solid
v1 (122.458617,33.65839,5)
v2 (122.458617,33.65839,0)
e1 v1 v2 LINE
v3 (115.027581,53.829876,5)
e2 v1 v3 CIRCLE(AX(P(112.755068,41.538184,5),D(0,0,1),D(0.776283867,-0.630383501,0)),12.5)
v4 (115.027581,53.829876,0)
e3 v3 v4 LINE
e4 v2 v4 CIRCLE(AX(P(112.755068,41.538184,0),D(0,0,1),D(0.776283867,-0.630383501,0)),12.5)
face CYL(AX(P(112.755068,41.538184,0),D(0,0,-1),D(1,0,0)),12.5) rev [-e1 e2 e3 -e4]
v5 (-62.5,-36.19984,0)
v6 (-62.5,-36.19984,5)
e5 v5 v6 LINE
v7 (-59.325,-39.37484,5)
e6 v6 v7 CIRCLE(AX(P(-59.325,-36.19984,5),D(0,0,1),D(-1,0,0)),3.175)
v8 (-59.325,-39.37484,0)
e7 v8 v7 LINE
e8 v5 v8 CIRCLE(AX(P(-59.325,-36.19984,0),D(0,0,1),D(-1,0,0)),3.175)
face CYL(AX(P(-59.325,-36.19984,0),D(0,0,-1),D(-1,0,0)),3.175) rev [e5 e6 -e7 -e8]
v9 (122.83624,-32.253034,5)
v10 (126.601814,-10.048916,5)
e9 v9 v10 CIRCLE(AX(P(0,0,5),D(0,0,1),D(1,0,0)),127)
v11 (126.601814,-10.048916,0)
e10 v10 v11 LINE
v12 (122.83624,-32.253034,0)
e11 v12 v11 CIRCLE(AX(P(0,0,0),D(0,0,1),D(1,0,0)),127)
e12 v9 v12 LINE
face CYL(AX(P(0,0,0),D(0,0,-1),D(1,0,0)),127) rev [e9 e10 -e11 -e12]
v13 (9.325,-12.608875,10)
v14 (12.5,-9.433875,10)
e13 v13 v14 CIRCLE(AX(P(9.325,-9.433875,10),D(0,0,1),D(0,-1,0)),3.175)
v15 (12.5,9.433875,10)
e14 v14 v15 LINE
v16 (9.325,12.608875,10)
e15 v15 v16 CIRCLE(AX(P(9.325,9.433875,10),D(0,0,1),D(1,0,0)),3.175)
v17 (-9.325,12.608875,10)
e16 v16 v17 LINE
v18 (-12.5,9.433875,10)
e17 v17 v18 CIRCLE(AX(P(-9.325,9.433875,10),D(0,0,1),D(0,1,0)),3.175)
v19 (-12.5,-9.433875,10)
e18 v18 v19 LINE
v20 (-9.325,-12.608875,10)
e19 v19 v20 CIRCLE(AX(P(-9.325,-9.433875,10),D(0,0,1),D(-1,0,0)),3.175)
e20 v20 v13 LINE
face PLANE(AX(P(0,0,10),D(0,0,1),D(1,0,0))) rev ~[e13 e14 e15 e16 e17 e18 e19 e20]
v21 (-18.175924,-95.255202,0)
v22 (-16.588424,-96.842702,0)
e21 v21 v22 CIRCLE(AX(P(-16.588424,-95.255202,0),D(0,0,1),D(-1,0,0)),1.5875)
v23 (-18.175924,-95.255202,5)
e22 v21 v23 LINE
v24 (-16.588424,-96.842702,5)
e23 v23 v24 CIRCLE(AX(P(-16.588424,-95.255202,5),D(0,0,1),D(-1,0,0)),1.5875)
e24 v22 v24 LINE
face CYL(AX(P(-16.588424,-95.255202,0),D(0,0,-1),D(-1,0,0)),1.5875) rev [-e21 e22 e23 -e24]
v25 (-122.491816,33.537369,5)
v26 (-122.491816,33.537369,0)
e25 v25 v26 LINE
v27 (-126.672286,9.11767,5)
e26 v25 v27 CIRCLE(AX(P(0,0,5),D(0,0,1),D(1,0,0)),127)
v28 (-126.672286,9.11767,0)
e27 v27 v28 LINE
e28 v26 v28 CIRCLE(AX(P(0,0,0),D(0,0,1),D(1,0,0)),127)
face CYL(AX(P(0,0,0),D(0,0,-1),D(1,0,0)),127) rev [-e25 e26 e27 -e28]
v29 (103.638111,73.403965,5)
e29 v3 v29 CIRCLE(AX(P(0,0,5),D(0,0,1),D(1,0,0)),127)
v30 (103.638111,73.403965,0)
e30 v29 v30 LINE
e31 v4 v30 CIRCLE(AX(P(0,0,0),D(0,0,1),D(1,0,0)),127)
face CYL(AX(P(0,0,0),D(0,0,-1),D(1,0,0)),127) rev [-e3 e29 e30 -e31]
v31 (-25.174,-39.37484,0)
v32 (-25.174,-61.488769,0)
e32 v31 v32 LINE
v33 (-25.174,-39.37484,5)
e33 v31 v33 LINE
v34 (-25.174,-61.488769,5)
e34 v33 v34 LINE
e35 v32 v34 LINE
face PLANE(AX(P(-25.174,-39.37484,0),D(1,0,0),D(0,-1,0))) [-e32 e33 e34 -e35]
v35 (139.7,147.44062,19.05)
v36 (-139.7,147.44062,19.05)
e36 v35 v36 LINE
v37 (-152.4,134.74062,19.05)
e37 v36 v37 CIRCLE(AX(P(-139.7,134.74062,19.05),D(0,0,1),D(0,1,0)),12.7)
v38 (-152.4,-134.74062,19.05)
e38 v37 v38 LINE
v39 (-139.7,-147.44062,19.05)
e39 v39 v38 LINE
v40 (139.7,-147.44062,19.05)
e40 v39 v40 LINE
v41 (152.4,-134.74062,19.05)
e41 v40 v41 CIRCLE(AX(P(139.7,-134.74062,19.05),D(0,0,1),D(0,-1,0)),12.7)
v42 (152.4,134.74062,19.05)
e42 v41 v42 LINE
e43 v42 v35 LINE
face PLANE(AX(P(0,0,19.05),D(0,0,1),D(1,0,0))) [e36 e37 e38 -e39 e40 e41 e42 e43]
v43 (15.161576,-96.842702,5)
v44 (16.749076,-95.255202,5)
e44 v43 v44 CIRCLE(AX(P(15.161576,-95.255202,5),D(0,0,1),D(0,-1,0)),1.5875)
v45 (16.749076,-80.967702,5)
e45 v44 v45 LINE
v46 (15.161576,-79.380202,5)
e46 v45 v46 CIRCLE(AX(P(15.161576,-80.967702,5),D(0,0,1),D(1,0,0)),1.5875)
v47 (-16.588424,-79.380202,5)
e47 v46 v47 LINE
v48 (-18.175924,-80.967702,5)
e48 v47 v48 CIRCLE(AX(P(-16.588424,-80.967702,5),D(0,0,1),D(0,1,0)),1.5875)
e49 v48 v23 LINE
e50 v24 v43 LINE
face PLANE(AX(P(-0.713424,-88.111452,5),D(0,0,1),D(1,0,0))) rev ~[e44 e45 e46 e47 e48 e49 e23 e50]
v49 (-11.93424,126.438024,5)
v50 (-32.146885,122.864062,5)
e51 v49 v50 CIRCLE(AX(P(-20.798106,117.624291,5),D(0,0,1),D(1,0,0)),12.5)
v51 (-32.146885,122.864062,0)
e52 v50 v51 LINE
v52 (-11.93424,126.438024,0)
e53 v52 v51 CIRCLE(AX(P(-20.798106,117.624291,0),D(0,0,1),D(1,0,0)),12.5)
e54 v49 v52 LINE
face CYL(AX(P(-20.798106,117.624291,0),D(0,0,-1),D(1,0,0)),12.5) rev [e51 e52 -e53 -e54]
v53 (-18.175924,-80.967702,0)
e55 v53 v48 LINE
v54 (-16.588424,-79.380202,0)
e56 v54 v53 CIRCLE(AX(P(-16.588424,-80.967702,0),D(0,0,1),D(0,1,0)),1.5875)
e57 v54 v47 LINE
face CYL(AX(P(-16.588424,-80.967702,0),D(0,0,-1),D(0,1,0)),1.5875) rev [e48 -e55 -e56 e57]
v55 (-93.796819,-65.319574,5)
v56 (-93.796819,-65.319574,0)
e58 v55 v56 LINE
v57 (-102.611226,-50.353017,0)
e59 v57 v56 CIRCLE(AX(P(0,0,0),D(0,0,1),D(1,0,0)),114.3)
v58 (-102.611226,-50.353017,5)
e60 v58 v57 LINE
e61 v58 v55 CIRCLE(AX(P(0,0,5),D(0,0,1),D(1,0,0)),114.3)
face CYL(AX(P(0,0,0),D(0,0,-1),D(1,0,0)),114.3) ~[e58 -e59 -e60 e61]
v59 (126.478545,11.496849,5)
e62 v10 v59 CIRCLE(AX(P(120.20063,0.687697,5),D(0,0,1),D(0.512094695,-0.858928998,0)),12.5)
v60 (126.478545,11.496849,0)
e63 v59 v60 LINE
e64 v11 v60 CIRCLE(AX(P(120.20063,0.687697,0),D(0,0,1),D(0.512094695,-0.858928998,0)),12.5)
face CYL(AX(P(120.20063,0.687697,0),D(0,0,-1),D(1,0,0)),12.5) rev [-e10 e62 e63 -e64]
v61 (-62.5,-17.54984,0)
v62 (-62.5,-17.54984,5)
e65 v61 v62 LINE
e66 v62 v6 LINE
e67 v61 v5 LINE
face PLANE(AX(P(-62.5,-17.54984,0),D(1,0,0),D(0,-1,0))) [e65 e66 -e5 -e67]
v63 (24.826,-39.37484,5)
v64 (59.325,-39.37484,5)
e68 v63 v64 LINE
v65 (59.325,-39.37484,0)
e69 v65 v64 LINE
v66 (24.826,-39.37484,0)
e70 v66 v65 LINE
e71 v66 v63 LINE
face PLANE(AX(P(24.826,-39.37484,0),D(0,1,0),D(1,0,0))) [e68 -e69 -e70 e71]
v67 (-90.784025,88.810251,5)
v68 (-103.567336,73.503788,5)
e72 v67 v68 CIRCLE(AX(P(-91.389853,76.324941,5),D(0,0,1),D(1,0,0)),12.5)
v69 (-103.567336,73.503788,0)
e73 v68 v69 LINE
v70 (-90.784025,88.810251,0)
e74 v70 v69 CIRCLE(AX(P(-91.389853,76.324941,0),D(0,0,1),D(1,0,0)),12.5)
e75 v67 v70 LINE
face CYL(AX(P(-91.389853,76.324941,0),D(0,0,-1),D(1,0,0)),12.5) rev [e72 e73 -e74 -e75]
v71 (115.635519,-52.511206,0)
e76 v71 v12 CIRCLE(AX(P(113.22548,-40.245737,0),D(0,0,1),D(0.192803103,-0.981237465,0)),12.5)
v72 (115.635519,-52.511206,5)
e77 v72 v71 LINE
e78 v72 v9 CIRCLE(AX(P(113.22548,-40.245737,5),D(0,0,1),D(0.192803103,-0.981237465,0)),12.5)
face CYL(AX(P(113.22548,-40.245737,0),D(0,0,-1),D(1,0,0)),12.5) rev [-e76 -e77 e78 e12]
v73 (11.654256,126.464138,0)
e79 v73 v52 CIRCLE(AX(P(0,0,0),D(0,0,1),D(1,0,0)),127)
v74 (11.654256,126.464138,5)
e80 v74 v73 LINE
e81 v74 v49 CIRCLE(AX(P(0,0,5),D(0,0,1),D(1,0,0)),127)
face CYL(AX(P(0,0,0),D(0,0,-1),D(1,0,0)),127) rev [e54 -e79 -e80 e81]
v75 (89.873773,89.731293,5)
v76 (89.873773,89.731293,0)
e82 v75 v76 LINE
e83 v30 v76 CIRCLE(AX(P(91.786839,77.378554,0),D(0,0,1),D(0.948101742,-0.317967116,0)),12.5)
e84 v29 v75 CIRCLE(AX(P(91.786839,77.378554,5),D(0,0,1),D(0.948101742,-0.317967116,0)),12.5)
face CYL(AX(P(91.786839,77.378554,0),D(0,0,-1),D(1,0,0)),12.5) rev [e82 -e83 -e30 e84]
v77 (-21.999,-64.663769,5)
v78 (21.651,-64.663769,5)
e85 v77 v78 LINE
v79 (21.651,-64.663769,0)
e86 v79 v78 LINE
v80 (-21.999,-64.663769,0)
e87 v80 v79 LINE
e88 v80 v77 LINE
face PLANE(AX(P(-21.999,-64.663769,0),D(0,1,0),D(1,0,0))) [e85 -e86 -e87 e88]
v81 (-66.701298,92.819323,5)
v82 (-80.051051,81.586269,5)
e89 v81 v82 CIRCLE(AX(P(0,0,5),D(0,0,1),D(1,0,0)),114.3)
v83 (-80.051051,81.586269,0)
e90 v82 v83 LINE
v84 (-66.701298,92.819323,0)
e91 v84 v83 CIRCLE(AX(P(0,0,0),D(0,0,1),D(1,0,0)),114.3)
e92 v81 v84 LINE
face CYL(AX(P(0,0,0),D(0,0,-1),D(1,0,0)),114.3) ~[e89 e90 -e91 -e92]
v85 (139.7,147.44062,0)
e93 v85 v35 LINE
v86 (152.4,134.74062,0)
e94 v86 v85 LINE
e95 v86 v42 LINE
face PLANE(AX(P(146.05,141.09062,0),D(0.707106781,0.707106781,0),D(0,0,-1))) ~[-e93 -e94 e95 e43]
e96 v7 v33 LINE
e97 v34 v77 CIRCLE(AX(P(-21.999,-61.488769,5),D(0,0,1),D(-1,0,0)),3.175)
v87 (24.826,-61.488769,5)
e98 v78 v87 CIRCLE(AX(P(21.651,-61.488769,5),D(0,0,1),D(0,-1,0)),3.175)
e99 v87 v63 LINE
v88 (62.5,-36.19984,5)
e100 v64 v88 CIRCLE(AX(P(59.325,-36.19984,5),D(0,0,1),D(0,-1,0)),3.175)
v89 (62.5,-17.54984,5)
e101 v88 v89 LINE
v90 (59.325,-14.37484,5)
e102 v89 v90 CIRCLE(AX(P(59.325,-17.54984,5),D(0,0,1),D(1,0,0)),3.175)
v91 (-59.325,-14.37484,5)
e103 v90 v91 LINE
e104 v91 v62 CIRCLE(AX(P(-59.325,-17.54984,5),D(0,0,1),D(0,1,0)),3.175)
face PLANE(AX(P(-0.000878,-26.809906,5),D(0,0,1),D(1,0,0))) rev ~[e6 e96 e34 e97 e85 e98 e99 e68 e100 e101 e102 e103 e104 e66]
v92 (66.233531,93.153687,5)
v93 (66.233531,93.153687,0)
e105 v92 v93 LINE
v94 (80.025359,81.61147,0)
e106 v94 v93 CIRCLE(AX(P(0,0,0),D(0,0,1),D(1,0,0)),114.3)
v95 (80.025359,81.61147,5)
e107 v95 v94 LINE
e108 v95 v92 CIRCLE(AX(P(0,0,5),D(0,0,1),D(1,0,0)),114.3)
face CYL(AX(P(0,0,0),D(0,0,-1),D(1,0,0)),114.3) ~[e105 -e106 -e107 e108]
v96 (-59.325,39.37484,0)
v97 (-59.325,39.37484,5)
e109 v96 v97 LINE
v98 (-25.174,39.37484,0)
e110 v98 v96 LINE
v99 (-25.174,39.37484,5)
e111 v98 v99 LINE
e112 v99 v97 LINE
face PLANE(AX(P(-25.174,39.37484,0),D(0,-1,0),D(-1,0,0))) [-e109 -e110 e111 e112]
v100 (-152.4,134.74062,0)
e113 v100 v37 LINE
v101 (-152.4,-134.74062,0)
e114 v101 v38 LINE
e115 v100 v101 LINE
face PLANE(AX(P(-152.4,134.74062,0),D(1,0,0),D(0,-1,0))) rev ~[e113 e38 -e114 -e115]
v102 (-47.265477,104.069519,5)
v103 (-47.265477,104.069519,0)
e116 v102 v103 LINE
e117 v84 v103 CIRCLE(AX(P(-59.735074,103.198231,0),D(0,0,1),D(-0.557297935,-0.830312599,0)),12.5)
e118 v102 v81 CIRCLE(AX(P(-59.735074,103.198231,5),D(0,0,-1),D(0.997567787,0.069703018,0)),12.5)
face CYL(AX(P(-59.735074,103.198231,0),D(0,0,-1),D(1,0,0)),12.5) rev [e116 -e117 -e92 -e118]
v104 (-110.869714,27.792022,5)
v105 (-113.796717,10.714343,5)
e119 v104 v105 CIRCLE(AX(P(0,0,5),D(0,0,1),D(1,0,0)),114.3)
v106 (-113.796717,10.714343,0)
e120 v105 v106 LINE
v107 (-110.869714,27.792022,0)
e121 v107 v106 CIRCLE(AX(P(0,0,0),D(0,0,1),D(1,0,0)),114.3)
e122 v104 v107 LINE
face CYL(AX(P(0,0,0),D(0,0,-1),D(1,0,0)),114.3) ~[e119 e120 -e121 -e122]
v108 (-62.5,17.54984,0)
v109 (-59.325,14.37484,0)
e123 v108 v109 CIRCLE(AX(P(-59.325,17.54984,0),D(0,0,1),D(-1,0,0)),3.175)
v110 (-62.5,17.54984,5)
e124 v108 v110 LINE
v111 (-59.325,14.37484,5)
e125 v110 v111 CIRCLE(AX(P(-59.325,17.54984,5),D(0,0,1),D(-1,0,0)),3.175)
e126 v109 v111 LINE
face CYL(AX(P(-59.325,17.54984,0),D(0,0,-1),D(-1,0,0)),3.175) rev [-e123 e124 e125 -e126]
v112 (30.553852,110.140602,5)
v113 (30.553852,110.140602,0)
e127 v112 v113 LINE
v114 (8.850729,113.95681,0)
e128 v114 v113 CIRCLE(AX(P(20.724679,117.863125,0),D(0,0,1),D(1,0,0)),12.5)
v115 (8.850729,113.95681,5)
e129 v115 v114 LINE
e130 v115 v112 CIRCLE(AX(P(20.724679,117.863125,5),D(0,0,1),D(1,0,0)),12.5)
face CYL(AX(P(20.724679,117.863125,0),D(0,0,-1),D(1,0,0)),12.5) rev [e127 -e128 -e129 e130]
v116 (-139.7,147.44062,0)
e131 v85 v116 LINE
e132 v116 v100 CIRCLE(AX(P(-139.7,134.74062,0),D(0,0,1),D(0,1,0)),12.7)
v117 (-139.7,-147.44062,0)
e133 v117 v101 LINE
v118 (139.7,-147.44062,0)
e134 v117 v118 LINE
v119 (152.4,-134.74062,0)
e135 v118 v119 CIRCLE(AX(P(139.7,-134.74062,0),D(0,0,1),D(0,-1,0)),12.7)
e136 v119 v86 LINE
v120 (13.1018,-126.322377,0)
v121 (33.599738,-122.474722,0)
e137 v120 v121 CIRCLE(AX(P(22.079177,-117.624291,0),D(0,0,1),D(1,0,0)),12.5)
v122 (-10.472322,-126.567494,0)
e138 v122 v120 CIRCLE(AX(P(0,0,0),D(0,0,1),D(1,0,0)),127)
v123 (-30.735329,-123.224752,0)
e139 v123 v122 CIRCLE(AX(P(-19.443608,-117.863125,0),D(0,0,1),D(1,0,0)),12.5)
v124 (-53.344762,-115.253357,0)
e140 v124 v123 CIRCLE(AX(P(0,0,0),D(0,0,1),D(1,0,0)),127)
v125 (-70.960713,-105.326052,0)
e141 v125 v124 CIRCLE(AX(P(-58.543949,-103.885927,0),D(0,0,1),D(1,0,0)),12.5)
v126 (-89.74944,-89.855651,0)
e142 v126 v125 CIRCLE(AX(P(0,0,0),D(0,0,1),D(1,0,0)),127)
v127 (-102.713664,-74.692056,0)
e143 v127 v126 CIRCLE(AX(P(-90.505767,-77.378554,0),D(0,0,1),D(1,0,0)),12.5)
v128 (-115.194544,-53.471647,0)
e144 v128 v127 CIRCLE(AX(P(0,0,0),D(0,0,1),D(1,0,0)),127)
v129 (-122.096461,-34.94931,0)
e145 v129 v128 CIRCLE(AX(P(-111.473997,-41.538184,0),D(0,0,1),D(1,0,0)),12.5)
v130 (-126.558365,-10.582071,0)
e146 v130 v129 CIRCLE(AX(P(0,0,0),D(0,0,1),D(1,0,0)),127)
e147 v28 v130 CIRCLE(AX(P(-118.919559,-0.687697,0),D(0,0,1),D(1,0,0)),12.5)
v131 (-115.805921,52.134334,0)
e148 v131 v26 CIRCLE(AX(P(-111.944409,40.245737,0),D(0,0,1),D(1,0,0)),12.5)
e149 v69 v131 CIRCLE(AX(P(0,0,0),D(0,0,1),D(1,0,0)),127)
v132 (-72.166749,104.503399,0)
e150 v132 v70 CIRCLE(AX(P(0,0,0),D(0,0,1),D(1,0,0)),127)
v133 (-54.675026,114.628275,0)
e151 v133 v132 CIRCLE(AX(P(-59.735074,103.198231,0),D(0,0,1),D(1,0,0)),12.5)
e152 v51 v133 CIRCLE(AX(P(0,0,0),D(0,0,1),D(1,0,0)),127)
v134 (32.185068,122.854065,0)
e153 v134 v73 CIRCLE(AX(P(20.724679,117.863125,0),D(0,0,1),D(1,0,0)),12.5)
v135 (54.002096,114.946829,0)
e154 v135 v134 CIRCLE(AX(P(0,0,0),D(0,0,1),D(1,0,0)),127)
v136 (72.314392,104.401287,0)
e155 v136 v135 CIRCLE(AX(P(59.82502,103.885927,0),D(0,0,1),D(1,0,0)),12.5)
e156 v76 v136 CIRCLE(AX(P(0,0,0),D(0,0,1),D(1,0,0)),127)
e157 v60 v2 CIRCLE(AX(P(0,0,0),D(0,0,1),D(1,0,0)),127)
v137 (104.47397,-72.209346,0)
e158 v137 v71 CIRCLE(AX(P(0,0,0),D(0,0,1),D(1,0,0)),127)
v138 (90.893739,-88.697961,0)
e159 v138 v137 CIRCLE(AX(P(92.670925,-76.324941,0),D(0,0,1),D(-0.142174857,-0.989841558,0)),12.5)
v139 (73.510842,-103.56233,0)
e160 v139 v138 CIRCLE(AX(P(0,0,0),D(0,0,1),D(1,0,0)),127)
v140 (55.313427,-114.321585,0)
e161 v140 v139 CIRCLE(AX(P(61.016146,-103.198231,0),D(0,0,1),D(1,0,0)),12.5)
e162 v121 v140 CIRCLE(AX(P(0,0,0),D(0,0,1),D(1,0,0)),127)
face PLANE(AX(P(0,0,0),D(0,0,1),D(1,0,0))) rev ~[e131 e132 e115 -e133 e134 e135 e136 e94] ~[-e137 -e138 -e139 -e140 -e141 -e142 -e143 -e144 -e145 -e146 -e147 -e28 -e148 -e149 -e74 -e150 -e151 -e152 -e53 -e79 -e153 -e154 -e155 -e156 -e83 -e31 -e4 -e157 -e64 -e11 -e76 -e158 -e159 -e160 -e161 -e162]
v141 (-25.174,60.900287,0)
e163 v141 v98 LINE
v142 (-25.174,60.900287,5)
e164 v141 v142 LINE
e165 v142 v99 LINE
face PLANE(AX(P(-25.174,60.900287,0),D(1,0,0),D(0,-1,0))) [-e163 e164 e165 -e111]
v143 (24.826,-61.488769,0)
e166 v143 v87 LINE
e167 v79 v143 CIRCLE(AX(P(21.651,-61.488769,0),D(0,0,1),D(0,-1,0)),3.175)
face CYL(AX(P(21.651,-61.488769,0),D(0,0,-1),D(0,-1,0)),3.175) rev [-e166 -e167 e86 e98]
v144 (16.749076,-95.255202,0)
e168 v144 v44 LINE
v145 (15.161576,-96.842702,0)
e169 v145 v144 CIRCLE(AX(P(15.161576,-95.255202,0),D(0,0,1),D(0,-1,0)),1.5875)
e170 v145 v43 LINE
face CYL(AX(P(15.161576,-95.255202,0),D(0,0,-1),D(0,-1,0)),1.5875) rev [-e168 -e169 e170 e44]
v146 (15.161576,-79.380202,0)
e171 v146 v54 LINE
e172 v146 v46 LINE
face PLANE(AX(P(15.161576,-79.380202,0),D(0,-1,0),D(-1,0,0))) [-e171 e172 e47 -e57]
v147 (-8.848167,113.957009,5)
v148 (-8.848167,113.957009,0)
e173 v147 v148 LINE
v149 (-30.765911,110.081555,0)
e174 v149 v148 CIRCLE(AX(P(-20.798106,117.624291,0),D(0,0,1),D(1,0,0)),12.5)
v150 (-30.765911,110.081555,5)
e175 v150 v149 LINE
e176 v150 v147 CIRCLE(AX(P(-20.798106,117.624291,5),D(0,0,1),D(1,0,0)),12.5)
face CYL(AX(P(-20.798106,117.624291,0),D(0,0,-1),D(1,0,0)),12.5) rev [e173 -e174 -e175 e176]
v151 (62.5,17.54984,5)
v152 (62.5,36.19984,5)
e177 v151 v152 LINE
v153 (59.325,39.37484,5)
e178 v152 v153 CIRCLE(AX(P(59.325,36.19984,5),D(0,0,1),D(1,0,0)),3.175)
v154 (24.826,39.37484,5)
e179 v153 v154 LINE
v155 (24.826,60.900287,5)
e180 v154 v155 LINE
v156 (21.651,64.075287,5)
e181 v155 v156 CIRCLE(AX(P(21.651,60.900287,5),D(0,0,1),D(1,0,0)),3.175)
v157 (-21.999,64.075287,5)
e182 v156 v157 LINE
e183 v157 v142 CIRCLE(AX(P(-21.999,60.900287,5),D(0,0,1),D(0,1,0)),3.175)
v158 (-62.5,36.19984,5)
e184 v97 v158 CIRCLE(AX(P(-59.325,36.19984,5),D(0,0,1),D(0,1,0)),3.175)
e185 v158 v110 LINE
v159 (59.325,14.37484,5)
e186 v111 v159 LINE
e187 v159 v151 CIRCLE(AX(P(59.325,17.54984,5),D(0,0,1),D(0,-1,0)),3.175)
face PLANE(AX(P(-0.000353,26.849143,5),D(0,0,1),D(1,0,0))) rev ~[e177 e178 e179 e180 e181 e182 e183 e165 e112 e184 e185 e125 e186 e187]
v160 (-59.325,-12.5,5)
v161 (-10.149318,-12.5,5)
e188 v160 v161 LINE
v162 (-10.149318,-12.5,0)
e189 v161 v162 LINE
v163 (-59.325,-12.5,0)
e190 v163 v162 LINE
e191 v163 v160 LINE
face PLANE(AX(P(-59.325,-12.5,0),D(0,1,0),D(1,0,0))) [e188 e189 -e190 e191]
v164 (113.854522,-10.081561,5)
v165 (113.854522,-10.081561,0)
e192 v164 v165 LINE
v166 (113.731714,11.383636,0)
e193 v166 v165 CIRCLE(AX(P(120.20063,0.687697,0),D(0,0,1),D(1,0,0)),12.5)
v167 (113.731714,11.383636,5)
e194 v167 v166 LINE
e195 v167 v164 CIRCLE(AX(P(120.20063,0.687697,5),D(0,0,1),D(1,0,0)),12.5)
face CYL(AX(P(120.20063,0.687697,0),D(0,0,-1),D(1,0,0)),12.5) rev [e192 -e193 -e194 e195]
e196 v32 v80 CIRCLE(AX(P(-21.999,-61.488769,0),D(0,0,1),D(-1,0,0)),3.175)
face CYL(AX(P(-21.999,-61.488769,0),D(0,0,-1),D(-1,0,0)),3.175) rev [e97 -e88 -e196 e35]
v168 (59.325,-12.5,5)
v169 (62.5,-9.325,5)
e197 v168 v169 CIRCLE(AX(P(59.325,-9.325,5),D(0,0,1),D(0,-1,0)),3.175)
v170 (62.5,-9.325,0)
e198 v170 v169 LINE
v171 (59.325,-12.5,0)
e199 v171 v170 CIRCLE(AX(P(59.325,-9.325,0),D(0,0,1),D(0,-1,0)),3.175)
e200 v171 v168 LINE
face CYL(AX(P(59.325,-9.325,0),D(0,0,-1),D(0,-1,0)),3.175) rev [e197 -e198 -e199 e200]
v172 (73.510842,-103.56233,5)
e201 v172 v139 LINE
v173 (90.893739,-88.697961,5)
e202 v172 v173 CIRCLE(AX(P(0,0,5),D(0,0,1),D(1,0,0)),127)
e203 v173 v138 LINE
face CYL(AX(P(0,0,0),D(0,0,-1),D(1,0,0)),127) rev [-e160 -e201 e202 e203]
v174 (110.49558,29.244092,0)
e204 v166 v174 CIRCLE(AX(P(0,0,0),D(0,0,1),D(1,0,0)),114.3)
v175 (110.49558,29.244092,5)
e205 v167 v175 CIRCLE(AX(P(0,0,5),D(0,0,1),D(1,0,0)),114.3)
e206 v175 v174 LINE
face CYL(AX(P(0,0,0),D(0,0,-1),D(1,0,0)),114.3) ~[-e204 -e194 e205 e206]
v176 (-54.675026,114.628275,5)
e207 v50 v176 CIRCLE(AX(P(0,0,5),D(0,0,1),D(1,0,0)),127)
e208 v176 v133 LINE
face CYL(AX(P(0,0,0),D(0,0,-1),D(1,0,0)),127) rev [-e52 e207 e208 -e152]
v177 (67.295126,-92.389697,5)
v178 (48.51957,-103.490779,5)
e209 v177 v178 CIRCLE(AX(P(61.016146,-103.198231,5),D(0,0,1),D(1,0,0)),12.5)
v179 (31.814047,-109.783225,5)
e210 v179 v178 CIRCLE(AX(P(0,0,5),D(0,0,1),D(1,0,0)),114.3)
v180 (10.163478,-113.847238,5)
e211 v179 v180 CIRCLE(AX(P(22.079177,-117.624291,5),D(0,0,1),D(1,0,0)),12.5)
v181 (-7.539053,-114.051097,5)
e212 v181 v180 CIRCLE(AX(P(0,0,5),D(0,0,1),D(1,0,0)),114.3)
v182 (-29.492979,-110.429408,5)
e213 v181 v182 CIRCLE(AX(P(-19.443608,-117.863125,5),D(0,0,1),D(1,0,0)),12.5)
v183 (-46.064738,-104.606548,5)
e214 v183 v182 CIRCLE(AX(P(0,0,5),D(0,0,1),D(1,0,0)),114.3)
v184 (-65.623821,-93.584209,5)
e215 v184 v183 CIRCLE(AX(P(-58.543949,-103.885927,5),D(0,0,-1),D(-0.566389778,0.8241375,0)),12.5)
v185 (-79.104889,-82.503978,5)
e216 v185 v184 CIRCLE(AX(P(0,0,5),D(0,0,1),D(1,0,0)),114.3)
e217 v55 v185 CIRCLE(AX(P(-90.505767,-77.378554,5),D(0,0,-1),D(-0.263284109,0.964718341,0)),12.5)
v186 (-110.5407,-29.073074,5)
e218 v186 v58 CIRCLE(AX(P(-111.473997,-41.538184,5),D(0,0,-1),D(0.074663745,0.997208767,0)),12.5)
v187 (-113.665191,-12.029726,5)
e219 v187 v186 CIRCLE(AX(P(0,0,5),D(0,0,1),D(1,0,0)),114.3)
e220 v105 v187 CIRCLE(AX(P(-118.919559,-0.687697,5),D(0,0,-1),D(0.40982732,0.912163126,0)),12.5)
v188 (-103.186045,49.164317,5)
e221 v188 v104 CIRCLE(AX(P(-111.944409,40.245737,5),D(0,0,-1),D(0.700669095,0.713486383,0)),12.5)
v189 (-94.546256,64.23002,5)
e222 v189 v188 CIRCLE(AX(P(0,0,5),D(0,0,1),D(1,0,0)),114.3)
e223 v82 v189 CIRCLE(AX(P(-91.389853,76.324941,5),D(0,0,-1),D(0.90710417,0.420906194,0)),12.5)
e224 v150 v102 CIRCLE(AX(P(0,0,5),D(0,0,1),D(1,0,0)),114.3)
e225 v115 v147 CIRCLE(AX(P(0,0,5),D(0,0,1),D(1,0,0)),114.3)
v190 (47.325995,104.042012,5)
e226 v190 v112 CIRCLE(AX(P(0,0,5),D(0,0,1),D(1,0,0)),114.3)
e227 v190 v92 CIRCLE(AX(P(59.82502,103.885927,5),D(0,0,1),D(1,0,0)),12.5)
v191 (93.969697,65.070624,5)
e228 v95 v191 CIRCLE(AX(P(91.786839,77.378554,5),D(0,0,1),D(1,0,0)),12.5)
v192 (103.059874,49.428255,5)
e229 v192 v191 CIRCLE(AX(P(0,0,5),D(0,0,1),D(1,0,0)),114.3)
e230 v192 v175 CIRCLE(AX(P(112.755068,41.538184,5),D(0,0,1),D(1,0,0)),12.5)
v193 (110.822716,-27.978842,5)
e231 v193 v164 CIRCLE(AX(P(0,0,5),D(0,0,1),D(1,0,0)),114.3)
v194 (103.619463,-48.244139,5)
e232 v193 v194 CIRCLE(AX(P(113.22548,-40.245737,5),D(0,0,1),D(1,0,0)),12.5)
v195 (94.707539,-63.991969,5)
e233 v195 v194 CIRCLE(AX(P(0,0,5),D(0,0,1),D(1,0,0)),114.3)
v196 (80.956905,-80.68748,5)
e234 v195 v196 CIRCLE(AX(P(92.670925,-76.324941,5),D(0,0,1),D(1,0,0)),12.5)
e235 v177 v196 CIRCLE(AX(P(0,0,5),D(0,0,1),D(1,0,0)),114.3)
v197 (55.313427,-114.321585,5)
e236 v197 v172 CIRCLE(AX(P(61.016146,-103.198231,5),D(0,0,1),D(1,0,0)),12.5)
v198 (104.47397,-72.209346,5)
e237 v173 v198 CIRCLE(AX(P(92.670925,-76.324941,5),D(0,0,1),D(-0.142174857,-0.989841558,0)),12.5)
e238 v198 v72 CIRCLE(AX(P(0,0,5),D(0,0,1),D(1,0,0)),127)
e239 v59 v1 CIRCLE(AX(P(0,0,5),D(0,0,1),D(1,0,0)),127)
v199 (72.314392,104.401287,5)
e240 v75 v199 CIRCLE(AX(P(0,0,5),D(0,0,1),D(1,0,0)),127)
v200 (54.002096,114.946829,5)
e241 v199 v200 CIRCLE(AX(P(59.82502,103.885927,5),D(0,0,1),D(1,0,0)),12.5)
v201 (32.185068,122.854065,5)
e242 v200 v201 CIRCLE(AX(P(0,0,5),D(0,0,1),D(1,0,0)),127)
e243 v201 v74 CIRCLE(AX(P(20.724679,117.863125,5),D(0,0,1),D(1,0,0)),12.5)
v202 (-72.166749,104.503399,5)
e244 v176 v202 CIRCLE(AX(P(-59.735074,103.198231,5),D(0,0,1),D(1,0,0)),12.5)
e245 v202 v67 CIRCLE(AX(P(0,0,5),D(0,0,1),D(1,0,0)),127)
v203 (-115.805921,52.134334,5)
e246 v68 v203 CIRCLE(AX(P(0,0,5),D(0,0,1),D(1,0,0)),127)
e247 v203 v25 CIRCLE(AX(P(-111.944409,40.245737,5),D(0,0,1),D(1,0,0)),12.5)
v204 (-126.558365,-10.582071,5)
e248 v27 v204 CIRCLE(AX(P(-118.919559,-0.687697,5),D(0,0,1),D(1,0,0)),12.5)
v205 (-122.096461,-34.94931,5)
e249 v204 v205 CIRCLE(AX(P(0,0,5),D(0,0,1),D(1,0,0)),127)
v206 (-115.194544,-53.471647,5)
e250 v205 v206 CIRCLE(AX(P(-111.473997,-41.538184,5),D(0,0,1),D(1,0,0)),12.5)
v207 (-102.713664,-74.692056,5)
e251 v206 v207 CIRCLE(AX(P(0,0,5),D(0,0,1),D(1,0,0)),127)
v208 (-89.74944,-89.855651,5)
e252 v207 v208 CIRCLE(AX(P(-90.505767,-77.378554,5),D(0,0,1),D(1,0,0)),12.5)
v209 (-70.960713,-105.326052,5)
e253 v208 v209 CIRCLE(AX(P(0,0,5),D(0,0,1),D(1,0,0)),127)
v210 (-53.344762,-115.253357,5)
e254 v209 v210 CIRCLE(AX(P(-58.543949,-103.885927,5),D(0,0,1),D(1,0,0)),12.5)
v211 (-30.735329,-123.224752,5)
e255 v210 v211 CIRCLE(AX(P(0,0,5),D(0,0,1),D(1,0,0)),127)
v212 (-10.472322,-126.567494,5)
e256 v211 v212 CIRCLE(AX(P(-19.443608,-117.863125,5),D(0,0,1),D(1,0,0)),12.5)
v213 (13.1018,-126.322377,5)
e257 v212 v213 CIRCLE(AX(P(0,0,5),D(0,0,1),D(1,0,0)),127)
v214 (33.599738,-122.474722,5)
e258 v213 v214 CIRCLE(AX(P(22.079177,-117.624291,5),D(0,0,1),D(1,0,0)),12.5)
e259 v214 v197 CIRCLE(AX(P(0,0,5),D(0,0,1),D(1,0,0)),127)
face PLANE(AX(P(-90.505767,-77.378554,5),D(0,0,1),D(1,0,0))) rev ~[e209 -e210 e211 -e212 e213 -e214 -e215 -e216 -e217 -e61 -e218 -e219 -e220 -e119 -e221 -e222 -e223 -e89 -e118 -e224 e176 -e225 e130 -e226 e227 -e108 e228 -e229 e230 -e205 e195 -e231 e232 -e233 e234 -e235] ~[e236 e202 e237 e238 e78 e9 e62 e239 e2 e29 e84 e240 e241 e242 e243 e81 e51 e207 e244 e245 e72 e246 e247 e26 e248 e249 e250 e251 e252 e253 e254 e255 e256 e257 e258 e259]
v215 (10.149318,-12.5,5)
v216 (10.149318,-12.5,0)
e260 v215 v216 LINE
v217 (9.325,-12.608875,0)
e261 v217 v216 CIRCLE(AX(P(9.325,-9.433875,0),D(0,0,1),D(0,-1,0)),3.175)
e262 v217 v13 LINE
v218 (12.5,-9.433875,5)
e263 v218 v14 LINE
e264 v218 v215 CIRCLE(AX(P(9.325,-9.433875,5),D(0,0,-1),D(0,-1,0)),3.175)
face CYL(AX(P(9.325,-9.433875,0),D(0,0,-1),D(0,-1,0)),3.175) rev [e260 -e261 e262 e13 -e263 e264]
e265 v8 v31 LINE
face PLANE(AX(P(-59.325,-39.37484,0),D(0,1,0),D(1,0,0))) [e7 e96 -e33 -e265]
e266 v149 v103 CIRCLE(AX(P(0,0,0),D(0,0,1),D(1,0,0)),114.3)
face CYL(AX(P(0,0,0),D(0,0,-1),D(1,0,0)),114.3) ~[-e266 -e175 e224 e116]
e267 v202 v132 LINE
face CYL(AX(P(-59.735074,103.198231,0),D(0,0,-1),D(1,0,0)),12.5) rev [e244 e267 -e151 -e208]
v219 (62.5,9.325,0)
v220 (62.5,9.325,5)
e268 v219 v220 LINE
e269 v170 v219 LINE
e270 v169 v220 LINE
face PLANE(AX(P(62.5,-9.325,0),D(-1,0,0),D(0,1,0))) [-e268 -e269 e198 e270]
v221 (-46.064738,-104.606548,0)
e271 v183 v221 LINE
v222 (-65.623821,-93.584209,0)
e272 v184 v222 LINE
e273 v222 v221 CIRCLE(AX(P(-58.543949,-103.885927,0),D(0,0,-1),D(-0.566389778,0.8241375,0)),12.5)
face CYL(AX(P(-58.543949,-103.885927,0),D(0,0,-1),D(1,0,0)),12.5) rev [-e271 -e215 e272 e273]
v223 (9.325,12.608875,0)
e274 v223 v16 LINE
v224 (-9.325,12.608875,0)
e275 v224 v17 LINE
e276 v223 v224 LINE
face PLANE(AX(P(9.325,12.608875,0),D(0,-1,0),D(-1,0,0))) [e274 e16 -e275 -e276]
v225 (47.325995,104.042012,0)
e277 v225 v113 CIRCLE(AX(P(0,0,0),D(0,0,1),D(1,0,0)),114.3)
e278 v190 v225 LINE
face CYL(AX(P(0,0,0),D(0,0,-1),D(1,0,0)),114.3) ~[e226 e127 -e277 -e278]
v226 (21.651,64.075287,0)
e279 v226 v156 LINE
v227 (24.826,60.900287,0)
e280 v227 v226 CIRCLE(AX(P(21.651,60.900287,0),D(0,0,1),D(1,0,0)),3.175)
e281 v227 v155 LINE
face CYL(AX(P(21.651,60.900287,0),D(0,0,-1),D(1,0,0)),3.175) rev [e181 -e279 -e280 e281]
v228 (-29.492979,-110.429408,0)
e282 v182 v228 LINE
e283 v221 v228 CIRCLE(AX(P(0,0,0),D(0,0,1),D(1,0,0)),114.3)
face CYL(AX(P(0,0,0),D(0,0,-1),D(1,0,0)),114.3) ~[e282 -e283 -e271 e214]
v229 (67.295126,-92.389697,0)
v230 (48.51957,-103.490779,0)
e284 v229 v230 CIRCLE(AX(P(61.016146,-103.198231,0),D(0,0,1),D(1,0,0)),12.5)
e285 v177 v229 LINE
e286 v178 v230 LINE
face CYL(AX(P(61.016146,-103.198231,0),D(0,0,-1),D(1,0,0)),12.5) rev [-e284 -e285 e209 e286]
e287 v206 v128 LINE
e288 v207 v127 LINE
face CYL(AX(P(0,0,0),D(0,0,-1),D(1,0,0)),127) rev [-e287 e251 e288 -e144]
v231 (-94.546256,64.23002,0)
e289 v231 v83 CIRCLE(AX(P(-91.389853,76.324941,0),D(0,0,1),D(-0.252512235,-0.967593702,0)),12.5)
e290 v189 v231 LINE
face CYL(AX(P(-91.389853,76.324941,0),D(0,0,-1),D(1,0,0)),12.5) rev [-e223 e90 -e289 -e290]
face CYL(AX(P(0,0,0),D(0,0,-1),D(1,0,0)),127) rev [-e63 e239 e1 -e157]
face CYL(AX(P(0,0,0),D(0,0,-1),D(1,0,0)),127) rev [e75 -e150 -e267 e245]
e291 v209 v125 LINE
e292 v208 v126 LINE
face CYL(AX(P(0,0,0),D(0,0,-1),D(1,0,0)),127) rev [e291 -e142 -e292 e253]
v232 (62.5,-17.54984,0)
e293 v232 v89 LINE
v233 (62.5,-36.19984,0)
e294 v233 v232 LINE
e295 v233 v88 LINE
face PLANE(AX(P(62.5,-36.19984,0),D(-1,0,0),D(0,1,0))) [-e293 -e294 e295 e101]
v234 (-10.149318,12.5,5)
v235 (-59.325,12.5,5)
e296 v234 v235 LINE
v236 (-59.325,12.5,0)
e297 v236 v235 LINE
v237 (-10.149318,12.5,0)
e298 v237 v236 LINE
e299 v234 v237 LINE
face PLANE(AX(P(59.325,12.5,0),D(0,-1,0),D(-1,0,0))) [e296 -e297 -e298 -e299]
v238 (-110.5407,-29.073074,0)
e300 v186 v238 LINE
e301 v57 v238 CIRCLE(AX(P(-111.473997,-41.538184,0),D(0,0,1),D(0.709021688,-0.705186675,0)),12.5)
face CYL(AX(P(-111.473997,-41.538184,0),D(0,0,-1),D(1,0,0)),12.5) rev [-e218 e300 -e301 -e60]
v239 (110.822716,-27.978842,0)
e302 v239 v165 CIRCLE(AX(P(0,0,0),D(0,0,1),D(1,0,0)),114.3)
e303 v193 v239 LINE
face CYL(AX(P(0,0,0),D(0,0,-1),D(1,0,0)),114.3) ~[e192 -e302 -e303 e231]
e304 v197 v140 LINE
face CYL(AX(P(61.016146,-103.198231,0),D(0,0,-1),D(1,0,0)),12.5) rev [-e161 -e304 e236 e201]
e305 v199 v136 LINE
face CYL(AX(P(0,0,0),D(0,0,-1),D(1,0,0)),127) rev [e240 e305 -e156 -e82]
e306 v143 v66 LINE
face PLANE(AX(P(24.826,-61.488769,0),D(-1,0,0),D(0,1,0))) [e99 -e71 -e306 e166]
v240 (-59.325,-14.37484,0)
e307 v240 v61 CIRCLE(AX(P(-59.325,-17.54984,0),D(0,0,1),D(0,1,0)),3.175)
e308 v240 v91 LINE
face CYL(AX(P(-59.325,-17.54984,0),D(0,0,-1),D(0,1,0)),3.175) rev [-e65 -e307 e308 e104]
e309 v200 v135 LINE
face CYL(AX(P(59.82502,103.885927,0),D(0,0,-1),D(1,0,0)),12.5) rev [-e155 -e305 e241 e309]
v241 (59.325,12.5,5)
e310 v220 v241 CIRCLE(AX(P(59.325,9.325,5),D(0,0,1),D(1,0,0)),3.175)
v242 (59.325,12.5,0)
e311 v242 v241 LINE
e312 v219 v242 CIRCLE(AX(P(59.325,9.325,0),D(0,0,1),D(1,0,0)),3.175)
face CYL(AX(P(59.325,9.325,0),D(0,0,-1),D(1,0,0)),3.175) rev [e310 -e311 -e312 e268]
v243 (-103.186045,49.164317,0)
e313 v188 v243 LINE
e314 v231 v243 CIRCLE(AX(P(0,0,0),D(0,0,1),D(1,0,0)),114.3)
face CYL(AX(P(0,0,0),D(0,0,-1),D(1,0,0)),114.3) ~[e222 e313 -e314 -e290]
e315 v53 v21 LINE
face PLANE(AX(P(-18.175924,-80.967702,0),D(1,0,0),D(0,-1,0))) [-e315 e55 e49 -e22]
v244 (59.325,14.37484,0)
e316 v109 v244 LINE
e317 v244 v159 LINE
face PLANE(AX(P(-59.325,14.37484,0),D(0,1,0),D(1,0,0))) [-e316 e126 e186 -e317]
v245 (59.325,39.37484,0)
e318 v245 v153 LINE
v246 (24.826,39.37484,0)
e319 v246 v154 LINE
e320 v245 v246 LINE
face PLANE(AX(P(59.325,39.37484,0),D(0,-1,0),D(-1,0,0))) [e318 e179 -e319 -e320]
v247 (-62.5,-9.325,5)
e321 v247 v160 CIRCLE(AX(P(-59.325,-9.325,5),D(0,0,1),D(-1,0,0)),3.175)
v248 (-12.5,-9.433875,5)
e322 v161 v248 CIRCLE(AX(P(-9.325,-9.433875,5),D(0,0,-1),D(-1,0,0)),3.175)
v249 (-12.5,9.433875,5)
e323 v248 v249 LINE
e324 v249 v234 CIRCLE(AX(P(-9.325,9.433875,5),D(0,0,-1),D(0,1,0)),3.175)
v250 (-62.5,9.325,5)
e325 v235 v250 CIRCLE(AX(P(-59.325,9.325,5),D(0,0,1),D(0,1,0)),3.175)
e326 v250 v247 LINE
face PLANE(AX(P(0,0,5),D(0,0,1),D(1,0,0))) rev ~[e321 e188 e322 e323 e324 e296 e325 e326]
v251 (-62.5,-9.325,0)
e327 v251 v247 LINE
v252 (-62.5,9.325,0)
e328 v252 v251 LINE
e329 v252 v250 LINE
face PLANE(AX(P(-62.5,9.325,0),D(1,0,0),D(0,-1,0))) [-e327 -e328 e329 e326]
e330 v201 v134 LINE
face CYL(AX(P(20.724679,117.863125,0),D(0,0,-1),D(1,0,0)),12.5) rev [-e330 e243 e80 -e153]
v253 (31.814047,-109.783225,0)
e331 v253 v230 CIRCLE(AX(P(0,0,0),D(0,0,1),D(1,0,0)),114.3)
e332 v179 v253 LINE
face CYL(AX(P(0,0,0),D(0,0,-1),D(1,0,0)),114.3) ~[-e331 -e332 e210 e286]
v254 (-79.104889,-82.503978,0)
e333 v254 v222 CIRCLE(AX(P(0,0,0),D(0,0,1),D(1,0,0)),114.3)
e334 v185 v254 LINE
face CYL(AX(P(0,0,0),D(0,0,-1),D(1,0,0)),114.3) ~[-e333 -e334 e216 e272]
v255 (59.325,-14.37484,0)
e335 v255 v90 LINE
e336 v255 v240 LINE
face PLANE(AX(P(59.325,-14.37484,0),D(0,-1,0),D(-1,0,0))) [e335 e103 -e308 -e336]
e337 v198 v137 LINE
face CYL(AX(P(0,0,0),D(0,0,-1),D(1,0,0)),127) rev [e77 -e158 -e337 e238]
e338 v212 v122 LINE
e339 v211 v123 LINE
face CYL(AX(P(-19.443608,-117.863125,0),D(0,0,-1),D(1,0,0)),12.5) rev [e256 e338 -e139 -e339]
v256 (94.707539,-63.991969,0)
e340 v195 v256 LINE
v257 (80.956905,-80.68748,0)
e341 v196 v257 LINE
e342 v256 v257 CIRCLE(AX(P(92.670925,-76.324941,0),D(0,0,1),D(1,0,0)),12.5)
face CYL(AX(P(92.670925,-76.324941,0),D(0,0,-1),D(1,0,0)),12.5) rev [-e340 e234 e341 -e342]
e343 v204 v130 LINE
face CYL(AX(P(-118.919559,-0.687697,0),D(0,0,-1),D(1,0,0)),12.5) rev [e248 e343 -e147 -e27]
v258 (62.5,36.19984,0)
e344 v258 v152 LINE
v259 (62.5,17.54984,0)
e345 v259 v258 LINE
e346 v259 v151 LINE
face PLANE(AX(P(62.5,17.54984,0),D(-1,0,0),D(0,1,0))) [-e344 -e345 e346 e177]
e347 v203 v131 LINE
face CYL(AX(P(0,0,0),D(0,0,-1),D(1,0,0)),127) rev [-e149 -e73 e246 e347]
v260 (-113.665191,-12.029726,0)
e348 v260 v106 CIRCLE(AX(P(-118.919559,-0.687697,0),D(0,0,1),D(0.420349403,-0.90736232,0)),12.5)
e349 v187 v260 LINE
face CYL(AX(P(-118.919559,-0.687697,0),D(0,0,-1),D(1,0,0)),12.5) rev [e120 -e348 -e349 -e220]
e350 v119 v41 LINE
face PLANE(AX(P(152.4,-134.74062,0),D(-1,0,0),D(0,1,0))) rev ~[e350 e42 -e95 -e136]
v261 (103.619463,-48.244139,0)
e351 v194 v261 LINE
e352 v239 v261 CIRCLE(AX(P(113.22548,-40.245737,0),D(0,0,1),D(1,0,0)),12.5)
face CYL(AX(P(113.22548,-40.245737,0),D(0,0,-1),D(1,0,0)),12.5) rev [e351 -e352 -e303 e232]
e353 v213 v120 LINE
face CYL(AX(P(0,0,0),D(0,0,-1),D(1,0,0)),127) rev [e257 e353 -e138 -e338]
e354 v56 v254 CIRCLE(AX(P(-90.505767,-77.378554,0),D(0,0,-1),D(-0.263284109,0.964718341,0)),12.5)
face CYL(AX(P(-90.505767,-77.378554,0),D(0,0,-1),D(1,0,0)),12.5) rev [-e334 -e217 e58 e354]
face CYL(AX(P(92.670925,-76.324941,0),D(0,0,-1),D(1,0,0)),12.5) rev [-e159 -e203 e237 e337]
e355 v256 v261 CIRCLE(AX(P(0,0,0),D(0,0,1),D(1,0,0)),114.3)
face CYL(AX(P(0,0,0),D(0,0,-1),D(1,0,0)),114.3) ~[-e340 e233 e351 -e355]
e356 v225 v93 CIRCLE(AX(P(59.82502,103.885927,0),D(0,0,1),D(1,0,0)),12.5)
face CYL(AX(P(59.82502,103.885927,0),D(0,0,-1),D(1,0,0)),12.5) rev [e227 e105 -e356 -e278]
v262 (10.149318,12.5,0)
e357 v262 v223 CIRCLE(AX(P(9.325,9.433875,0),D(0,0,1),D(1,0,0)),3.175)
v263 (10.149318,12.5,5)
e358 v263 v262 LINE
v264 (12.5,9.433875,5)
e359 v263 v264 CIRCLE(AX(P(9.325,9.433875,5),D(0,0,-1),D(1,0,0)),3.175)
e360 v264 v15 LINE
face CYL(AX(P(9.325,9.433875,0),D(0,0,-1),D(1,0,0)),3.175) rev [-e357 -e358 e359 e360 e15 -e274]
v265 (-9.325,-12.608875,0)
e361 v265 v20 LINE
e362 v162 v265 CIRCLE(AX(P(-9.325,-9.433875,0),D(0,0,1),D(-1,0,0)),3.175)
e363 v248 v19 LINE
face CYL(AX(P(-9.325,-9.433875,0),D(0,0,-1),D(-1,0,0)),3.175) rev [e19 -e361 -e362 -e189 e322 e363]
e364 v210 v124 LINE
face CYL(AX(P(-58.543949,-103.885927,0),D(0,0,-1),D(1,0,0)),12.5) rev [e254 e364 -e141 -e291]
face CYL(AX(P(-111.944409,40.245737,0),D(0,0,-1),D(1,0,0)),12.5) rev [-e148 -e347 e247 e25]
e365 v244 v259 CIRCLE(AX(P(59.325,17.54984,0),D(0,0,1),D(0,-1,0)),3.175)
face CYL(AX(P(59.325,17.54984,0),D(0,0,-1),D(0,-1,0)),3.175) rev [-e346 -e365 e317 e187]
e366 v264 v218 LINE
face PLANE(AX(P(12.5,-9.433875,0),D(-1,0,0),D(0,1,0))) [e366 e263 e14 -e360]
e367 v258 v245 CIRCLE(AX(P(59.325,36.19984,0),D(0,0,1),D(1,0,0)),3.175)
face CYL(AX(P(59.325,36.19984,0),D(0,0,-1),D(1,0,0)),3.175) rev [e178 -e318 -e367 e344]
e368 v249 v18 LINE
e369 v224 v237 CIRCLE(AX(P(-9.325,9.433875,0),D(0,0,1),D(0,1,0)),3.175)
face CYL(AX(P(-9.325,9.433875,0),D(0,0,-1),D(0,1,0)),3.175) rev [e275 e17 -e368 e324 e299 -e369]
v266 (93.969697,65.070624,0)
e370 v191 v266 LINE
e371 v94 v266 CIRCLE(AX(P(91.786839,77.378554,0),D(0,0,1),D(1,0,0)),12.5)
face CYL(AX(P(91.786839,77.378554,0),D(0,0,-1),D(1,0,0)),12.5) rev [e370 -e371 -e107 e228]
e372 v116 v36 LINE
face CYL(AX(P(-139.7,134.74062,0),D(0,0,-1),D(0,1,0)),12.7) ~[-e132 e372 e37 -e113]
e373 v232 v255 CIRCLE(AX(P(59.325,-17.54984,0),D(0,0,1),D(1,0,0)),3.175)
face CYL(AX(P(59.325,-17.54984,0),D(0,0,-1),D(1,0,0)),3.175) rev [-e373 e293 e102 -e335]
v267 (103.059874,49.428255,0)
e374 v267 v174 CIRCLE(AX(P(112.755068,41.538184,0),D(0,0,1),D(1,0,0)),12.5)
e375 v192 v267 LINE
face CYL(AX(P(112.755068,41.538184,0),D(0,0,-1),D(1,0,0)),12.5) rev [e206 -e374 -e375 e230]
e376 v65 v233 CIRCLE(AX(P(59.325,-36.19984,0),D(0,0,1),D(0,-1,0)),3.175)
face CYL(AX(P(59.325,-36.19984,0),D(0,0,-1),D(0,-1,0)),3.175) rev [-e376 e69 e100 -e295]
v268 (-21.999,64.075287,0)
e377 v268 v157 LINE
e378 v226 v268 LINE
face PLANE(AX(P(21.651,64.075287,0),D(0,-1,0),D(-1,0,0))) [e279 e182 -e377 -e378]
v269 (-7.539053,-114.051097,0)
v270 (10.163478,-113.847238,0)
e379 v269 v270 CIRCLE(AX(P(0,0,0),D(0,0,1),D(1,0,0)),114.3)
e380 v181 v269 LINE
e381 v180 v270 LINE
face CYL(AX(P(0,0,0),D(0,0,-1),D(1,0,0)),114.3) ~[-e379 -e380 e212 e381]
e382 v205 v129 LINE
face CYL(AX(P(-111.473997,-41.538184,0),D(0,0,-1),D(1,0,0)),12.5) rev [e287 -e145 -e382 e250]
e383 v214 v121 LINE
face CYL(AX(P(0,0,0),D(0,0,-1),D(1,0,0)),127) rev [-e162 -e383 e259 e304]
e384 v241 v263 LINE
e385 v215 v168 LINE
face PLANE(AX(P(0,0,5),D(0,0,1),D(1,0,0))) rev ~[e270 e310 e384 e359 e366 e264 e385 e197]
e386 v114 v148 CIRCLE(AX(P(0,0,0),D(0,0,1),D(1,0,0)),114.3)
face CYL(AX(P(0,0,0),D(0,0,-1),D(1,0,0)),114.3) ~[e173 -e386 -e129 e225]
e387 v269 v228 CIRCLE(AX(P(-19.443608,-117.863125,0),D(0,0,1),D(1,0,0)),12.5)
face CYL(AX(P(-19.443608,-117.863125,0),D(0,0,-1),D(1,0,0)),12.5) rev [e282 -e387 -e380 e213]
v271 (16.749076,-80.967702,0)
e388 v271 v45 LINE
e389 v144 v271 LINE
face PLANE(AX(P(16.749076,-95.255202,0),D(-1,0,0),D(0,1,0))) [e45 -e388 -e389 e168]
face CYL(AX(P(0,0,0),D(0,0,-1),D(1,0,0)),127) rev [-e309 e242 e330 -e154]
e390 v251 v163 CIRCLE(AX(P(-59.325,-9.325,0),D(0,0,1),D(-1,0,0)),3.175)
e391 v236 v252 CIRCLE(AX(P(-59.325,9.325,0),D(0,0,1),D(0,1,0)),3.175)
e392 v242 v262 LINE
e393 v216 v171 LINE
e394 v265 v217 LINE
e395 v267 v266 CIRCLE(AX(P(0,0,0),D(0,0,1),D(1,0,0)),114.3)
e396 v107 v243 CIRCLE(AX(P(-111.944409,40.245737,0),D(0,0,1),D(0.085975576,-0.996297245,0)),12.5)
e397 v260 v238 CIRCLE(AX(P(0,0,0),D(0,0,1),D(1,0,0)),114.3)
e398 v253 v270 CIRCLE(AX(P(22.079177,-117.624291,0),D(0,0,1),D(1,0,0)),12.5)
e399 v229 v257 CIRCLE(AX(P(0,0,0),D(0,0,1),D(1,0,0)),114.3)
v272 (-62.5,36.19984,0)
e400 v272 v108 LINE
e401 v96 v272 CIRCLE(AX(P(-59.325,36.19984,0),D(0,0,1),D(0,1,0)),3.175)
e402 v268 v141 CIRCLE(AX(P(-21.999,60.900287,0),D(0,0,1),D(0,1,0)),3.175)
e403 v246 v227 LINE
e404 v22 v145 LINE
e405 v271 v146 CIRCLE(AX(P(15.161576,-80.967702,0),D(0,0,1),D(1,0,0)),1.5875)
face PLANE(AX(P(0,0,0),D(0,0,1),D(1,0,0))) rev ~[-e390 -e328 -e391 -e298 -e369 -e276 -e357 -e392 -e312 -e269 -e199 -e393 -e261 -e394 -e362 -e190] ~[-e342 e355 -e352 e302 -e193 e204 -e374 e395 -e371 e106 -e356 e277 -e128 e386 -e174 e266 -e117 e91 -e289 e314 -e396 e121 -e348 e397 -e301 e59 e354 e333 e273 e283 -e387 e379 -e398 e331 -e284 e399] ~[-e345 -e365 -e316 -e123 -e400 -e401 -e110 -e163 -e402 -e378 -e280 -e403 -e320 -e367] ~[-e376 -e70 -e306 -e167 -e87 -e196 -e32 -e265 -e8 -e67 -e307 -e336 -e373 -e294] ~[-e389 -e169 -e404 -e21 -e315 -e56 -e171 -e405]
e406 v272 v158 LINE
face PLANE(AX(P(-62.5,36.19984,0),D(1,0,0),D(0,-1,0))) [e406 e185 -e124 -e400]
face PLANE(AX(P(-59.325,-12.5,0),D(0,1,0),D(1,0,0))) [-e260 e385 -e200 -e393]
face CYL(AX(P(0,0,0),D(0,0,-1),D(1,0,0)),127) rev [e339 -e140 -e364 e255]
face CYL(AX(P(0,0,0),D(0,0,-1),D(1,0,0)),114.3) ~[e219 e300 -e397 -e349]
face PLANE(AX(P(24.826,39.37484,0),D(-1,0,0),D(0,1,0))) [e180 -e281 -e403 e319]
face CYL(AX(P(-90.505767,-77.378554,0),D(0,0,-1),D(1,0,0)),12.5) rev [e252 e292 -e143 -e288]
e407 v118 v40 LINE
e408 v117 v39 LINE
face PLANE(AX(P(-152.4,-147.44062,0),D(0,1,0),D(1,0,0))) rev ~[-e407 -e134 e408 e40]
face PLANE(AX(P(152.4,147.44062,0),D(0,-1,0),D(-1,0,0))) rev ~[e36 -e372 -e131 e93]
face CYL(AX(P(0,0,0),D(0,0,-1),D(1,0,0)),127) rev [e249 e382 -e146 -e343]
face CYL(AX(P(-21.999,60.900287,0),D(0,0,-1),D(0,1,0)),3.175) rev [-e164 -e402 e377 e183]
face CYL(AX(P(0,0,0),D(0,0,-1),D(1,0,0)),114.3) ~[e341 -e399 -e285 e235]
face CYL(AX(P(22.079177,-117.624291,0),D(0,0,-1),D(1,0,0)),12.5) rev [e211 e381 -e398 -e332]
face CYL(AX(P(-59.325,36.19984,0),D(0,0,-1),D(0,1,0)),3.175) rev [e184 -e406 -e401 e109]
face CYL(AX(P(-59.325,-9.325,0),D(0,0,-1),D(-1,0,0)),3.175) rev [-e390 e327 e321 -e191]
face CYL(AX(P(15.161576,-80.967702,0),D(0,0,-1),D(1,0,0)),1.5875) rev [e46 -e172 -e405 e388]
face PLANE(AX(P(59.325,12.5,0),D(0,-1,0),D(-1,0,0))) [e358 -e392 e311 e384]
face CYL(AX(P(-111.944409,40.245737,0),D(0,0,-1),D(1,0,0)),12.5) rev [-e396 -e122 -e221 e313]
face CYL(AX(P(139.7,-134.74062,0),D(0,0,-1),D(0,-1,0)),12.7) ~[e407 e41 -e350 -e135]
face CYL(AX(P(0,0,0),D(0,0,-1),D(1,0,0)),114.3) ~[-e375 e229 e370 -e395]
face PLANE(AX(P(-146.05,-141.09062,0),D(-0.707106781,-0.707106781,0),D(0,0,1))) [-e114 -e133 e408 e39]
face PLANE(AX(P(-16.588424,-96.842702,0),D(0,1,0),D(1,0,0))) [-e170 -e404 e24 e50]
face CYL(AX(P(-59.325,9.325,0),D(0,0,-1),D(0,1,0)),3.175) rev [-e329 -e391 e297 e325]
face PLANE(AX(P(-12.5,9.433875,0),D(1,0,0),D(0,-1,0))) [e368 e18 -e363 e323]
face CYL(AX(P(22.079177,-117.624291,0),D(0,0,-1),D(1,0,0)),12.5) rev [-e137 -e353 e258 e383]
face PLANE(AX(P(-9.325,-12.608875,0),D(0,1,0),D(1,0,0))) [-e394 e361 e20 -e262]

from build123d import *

# Parameters (mm, degrees)
F2_DEPTH  = 19.05
F3_SIZE   = 12.7
F1_W      = 50
F1_H      = 0.2995532098
F1_H_2    = 0.7460711968
F4_DEPTH  = 5
F5_R      = 12.5
F6_DEPTH  = 5
F7_R      = 127
F7_R_2    = 114.3
F8_DEPTH  = 5
F10_DEPTH = 5
F12_DEPTH = 10


with BuildPart() as f2:
    # F0 (on Top) → F2 (new body)
    with BuildSketch(Plane.XY):
        with BuildLine():
            Line((-152.4, -147.4406201886), (139.7, -147.4406201886))
            ThreePointArc((139.7, -147.4406201886), (148.6802561211, -143.7208763097), (152.4, -134.7406201886))
            Line((152.4, -134.7406201886), (152.4, 147.4406201886))
            Line((152.4, 147.4406201886), (-139.7, 147.4406201886))
            ThreePointArc((-139.7, 147.4406201886), (-148.6802561211, 143.7208763097), (-152.4, 134.7406201886))
            Line((-152.4, 134.7406201886), (-152.4, -147.4406201886))
        make_face()
    extrude(amount=F2_DEPTH)

    # F3
    f3_edges = [f2.edges().sort_by_distance(p)[0] for p in [
        (-152.4, -147.44062, 9.525),
        (152.4, 147.44062, 9.525),
    ]]
    chamfer(f3_edges, length=F3_SIZE)

    # F1 (on Top) → F4 (cut)
    with BuildSketch(Plane.XY):
        with BuildLine():
            Line((-59.325, -12.5), (59.325, -12.5))
            ThreePointArc((59.325, -12.5), (61.5700640303, -11.5700640303), (62.5, -9.325))
            Line((62.5, -9.325), (62.5, 9.325))
            ThreePointArc((62.5, 9.325), (61.5700640303, 11.5700640303), (59.325, 12.5))
            Line((59.325, 12.5), (-59.325, 12.5))
            ThreePointArc((-59.325, 12.5), (-61.5700640303, 11.5700640303), (-62.5, 9.325))
            Line((-62.5, 9.325), (-62.5, -9.325))
            ThreePointArc((-62.5, -9.325), (-61.5700640303, -11.5700640303), (-59.325, -12.5))
        make_face()
        with BuildLine():
            Line((-59.325, 14.37484), (59.325, 14.37484))
            ThreePointArc((59.325, 14.37484), (61.5700640303, 15.3047759697), (62.5, 17.54984))
            Line((62.5, 17.54984), (62.5, 36.19984))
            ThreePointArc((62.5, 36.19984), (61.5700640303, 38.4449040303), (59.325, 39.37484))
            Line((59.325, 39.37484), (24.8259999848, 39.37484))
            Line((24.8259999848, 39.37484), (24.8259999848, 39.0752867902))
            Line((24.8259999848, 39.0752867902), (-25.1740000152, 39.0752867902))
            Line((-25.1740000152, 39.0752867902), (-25.1740000152, 39.37484))
            Line((-25.1740000152, 39.37484), (-59.325, 39.37484))
            ThreePointArc((-59.325, 39.37484), (-61.5700640303, 38.4449040303), (-62.5, 36.19984))
            Line((-62.5, 36.19984), (-62.5, 17.54984))
            ThreePointArc((-62.5, 17.54984), (-61.5700640303, 15.3047759697), (-59.325, 14.37484))
        make_face()
        with Locations((-0.1740000152, 39.2250633951)):
            Rectangle(F1_W, F1_H)
        with BuildLine():
            Line((-25.1740000152, 39.37484), (24.8259999848, 39.37484))
            Line((24.8259999848, 39.37484), (24.8259999848, 60.9002867902))
            ThreePointArc((24.8259999848, 60.9002867902), (23.896064015, 63.1453508205), (21.6509999848, 64.0752867902))
            Line((21.6509999848, 64.0752867902), (-21.9990000152, 64.0752867902))
            ThreePointArc((-21.9990000152, 64.0752867902), (-24.2440640455, 63.1453508205), (-25.1740000152, 60.9002867902))
            Line((-25.1740000152, 60.9002867902), (-25.1740000152, 39.37484))
        make_face()
        with BuildLine():
            ThreePointArc((59.325, -39.37484), (61.5700640303, -38.4449040303), (62.5, -36.19984))
            Line((62.5, -36.19984), (62.5, -17.54984))
            ThreePointArc((62.5, -17.54984), (61.5700640303, -15.3047759697), (59.325, -14.37484))
            Line((59.325, -14.37484), (-59.325, -14.37484))
            ThreePointArc((-59.325, -14.37484), (-61.5700640303, -15.3047759697), (-62.5, -17.54984))
            Line((-62.5, -17.54984), (-62.5, -36.19984))
            ThreePointArc((-62.5, -36.19984), (-61.5700640303, -38.4449040303), (-59.325, -39.37484))
            Line((-59.325, -39.37484), (-25.1740000152, -39.37484))
            Line((-25.1740000152, -39.37484), (-25.1740000152, -38.6287688032))
            Line((-25.1740000152, -38.6287688032), (24.8259999848, -38.6287688032))
            Line((24.8259999848, -38.6287688032), (24.8259999848, -39.37484))
            Line((24.8259999848, -39.37484), (59.325, -39.37484))
        make_face()
        with BuildLine():
            Line((24.8259999848, -61.4887688032), (24.8259999848, -39.37484))
            Line((24.8259999848, -39.37484), (-25.1740000152, -39.37484))
            Line((-25.1740000152, -39.37484), (-25.1740000152, -61.4887688032))
            ThreePointArc((-25.1740000152, -61.4887688032), (-24.2440640455, -63.7338328334), (-21.9990000152, -64.6637688032))
            Line((-21.9990000152, -64.6637688032), (21.6509999848, -64.6637688032))
            ThreePointArc((21.6509999848, -64.6637688032), (23.896064015, -63.7338328334), (24.8259999848, -61.4887688032))
        make_face()
        with Locations((-0.1740000152, -39.0018044016)):
            Rectangle(F1_W, F1_H_2)
    extrude(amount=F4_DEPTH, mode=Mode.SUBTRACT)

    # F5 (on Top) → F6 (cut)
    with BuildSketch(Plane.XY):
        with Locations((-118.9195587855, -0.6876965701)):
            Circle(F5_R)
        with Locations((-111.4739967474, -41.5381840536)):
            Circle(F5_R)
        with Locations((-90.5057674586, -77.3785535018)):
            Circle(F5_R)
        with Locations((-58.5439488294, -103.8859274119)):
            Circle(F5_R)
        with Locations((-19.4436078927, -117.8631252832)):
            Circle(F5_R)
        with Locations((22.079177175, -117.6242907708)):
            Circle(F5_R)
        with Locations((61.0161456833, -103.1982308418)):
            Circle(F5_R)
        with Locations((92.6709245819, -76.3249412296)):
            Circle(F5_R)
        with Locations((113.2254803607, -40.2457372689)):
            Circle(F5_R)
        with Locations((120.2006302398, 0.6876965701)):
            Circle(F5_R)
        with Locations((112.7550682017, 41.5381840536)):
            Circle(F5_R)
        with Locations((91.7868389128, 77.3785535018)):
            Circle(F5_R)
        with Locations((59.8250202836, 103.8859274119)):
            Circle(F5_R)
        with Locations((20.724679347, 117.8631252832)):
            Circle(F5_R)
        with Locations((-20.7981057207, 117.6242907708)):
            Circle(F5_R)
        with Locations((-59.735074229, 103.1982308418)):
            Circle(F5_R)
        with Locations((-91.3898531276, 76.3249412296)):
            Circle(F5_R)
        with Locations((-111.9444089064, 40.2457372689)):
            Circle(F5_R)
    extrude(amount=F6_DEPTH, mode=Mode.SUBTRACT)

    # F7 (on Top) → F8 (cut)
    with BuildSketch(Plane.XY):
        Circle(F7_R)
        Circle(F7_R_2, mode=Mode.SUBTRACT)
    extrude(amount=F8_DEPTH, mode=Mode.SUBTRACT)

    # F9 (on Top) → F10 (cut)
    with BuildSketch(Plane.XY):
        with BuildLine():
            ThreePointArc((-18.1759242915, -95.255201998), (-17.7109563066, -96.3777340131), (-16.5884242915, -96.842701998))
            Line((-16.5884242915, -96.842701998), (15.1615757085, -96.842701998))
            ThreePointArc((15.1615757085, -96.842701998), (16.2841077237, -96.3777340131), (16.7490757085, -95.255201998))
            Line((16.7490757085, -95.255201998), (16.7490757085, -80.967701998))
            ThreePointArc((16.7490757085, -80.967701998), (16.2841077237, -79.8451699828), (15.1615757085, -79.380201998))
            Line((15.1615757085, -79.380201998), (-16.5884242915, -79.380201998))
            ThreePointArc((-16.5884242915, -79.380201998), (-17.7109563066, -79.8451699828), (-18.1759242915, -80.967701998))
            Line((-18.1759242915, -80.967701998), (-18.1759242915, -95.255201998))
        make_face()
    extrude(amount=F10_DEPTH, mode=Mode.SUBTRACT)

    # F11 (on Top) → F12 (cut)
    with BuildSketch(Plane.XY):
        with BuildLine():
            ThreePointArc((12.5, 9.4338746626), (11.5700640303, 11.6789386929), (9.325, 12.6088746626))
            Line((9.325, 12.6088746626), (-9.325, 12.6088746626))
            ThreePointArc((-9.325, 12.6088746626), (-11.5700640303, 11.6789386929), (-12.5, 9.4338746626))
            Line((-12.5, 9.4338746626), (-12.5, -9.4338746626))
            ThreePointArc((-12.5, -9.4338746626), (-11.5700640303, -11.6789386929), (-9.325, -12.6088746626))
            Line((-9.325, -12.6088746626), (9.325, -12.6088746626))
            ThreePointArc((9.325, -12.6088746626), (11.5700640303, -11.6789386929), (12.5, -9.4338746626))
            Line((12.5, -9.4338746626), (12.5, 9.4338746626))
        make_face()
    extrude(amount=F12_DEPTH, mode=Mode.SUBTRACT)


solid = f2.part
